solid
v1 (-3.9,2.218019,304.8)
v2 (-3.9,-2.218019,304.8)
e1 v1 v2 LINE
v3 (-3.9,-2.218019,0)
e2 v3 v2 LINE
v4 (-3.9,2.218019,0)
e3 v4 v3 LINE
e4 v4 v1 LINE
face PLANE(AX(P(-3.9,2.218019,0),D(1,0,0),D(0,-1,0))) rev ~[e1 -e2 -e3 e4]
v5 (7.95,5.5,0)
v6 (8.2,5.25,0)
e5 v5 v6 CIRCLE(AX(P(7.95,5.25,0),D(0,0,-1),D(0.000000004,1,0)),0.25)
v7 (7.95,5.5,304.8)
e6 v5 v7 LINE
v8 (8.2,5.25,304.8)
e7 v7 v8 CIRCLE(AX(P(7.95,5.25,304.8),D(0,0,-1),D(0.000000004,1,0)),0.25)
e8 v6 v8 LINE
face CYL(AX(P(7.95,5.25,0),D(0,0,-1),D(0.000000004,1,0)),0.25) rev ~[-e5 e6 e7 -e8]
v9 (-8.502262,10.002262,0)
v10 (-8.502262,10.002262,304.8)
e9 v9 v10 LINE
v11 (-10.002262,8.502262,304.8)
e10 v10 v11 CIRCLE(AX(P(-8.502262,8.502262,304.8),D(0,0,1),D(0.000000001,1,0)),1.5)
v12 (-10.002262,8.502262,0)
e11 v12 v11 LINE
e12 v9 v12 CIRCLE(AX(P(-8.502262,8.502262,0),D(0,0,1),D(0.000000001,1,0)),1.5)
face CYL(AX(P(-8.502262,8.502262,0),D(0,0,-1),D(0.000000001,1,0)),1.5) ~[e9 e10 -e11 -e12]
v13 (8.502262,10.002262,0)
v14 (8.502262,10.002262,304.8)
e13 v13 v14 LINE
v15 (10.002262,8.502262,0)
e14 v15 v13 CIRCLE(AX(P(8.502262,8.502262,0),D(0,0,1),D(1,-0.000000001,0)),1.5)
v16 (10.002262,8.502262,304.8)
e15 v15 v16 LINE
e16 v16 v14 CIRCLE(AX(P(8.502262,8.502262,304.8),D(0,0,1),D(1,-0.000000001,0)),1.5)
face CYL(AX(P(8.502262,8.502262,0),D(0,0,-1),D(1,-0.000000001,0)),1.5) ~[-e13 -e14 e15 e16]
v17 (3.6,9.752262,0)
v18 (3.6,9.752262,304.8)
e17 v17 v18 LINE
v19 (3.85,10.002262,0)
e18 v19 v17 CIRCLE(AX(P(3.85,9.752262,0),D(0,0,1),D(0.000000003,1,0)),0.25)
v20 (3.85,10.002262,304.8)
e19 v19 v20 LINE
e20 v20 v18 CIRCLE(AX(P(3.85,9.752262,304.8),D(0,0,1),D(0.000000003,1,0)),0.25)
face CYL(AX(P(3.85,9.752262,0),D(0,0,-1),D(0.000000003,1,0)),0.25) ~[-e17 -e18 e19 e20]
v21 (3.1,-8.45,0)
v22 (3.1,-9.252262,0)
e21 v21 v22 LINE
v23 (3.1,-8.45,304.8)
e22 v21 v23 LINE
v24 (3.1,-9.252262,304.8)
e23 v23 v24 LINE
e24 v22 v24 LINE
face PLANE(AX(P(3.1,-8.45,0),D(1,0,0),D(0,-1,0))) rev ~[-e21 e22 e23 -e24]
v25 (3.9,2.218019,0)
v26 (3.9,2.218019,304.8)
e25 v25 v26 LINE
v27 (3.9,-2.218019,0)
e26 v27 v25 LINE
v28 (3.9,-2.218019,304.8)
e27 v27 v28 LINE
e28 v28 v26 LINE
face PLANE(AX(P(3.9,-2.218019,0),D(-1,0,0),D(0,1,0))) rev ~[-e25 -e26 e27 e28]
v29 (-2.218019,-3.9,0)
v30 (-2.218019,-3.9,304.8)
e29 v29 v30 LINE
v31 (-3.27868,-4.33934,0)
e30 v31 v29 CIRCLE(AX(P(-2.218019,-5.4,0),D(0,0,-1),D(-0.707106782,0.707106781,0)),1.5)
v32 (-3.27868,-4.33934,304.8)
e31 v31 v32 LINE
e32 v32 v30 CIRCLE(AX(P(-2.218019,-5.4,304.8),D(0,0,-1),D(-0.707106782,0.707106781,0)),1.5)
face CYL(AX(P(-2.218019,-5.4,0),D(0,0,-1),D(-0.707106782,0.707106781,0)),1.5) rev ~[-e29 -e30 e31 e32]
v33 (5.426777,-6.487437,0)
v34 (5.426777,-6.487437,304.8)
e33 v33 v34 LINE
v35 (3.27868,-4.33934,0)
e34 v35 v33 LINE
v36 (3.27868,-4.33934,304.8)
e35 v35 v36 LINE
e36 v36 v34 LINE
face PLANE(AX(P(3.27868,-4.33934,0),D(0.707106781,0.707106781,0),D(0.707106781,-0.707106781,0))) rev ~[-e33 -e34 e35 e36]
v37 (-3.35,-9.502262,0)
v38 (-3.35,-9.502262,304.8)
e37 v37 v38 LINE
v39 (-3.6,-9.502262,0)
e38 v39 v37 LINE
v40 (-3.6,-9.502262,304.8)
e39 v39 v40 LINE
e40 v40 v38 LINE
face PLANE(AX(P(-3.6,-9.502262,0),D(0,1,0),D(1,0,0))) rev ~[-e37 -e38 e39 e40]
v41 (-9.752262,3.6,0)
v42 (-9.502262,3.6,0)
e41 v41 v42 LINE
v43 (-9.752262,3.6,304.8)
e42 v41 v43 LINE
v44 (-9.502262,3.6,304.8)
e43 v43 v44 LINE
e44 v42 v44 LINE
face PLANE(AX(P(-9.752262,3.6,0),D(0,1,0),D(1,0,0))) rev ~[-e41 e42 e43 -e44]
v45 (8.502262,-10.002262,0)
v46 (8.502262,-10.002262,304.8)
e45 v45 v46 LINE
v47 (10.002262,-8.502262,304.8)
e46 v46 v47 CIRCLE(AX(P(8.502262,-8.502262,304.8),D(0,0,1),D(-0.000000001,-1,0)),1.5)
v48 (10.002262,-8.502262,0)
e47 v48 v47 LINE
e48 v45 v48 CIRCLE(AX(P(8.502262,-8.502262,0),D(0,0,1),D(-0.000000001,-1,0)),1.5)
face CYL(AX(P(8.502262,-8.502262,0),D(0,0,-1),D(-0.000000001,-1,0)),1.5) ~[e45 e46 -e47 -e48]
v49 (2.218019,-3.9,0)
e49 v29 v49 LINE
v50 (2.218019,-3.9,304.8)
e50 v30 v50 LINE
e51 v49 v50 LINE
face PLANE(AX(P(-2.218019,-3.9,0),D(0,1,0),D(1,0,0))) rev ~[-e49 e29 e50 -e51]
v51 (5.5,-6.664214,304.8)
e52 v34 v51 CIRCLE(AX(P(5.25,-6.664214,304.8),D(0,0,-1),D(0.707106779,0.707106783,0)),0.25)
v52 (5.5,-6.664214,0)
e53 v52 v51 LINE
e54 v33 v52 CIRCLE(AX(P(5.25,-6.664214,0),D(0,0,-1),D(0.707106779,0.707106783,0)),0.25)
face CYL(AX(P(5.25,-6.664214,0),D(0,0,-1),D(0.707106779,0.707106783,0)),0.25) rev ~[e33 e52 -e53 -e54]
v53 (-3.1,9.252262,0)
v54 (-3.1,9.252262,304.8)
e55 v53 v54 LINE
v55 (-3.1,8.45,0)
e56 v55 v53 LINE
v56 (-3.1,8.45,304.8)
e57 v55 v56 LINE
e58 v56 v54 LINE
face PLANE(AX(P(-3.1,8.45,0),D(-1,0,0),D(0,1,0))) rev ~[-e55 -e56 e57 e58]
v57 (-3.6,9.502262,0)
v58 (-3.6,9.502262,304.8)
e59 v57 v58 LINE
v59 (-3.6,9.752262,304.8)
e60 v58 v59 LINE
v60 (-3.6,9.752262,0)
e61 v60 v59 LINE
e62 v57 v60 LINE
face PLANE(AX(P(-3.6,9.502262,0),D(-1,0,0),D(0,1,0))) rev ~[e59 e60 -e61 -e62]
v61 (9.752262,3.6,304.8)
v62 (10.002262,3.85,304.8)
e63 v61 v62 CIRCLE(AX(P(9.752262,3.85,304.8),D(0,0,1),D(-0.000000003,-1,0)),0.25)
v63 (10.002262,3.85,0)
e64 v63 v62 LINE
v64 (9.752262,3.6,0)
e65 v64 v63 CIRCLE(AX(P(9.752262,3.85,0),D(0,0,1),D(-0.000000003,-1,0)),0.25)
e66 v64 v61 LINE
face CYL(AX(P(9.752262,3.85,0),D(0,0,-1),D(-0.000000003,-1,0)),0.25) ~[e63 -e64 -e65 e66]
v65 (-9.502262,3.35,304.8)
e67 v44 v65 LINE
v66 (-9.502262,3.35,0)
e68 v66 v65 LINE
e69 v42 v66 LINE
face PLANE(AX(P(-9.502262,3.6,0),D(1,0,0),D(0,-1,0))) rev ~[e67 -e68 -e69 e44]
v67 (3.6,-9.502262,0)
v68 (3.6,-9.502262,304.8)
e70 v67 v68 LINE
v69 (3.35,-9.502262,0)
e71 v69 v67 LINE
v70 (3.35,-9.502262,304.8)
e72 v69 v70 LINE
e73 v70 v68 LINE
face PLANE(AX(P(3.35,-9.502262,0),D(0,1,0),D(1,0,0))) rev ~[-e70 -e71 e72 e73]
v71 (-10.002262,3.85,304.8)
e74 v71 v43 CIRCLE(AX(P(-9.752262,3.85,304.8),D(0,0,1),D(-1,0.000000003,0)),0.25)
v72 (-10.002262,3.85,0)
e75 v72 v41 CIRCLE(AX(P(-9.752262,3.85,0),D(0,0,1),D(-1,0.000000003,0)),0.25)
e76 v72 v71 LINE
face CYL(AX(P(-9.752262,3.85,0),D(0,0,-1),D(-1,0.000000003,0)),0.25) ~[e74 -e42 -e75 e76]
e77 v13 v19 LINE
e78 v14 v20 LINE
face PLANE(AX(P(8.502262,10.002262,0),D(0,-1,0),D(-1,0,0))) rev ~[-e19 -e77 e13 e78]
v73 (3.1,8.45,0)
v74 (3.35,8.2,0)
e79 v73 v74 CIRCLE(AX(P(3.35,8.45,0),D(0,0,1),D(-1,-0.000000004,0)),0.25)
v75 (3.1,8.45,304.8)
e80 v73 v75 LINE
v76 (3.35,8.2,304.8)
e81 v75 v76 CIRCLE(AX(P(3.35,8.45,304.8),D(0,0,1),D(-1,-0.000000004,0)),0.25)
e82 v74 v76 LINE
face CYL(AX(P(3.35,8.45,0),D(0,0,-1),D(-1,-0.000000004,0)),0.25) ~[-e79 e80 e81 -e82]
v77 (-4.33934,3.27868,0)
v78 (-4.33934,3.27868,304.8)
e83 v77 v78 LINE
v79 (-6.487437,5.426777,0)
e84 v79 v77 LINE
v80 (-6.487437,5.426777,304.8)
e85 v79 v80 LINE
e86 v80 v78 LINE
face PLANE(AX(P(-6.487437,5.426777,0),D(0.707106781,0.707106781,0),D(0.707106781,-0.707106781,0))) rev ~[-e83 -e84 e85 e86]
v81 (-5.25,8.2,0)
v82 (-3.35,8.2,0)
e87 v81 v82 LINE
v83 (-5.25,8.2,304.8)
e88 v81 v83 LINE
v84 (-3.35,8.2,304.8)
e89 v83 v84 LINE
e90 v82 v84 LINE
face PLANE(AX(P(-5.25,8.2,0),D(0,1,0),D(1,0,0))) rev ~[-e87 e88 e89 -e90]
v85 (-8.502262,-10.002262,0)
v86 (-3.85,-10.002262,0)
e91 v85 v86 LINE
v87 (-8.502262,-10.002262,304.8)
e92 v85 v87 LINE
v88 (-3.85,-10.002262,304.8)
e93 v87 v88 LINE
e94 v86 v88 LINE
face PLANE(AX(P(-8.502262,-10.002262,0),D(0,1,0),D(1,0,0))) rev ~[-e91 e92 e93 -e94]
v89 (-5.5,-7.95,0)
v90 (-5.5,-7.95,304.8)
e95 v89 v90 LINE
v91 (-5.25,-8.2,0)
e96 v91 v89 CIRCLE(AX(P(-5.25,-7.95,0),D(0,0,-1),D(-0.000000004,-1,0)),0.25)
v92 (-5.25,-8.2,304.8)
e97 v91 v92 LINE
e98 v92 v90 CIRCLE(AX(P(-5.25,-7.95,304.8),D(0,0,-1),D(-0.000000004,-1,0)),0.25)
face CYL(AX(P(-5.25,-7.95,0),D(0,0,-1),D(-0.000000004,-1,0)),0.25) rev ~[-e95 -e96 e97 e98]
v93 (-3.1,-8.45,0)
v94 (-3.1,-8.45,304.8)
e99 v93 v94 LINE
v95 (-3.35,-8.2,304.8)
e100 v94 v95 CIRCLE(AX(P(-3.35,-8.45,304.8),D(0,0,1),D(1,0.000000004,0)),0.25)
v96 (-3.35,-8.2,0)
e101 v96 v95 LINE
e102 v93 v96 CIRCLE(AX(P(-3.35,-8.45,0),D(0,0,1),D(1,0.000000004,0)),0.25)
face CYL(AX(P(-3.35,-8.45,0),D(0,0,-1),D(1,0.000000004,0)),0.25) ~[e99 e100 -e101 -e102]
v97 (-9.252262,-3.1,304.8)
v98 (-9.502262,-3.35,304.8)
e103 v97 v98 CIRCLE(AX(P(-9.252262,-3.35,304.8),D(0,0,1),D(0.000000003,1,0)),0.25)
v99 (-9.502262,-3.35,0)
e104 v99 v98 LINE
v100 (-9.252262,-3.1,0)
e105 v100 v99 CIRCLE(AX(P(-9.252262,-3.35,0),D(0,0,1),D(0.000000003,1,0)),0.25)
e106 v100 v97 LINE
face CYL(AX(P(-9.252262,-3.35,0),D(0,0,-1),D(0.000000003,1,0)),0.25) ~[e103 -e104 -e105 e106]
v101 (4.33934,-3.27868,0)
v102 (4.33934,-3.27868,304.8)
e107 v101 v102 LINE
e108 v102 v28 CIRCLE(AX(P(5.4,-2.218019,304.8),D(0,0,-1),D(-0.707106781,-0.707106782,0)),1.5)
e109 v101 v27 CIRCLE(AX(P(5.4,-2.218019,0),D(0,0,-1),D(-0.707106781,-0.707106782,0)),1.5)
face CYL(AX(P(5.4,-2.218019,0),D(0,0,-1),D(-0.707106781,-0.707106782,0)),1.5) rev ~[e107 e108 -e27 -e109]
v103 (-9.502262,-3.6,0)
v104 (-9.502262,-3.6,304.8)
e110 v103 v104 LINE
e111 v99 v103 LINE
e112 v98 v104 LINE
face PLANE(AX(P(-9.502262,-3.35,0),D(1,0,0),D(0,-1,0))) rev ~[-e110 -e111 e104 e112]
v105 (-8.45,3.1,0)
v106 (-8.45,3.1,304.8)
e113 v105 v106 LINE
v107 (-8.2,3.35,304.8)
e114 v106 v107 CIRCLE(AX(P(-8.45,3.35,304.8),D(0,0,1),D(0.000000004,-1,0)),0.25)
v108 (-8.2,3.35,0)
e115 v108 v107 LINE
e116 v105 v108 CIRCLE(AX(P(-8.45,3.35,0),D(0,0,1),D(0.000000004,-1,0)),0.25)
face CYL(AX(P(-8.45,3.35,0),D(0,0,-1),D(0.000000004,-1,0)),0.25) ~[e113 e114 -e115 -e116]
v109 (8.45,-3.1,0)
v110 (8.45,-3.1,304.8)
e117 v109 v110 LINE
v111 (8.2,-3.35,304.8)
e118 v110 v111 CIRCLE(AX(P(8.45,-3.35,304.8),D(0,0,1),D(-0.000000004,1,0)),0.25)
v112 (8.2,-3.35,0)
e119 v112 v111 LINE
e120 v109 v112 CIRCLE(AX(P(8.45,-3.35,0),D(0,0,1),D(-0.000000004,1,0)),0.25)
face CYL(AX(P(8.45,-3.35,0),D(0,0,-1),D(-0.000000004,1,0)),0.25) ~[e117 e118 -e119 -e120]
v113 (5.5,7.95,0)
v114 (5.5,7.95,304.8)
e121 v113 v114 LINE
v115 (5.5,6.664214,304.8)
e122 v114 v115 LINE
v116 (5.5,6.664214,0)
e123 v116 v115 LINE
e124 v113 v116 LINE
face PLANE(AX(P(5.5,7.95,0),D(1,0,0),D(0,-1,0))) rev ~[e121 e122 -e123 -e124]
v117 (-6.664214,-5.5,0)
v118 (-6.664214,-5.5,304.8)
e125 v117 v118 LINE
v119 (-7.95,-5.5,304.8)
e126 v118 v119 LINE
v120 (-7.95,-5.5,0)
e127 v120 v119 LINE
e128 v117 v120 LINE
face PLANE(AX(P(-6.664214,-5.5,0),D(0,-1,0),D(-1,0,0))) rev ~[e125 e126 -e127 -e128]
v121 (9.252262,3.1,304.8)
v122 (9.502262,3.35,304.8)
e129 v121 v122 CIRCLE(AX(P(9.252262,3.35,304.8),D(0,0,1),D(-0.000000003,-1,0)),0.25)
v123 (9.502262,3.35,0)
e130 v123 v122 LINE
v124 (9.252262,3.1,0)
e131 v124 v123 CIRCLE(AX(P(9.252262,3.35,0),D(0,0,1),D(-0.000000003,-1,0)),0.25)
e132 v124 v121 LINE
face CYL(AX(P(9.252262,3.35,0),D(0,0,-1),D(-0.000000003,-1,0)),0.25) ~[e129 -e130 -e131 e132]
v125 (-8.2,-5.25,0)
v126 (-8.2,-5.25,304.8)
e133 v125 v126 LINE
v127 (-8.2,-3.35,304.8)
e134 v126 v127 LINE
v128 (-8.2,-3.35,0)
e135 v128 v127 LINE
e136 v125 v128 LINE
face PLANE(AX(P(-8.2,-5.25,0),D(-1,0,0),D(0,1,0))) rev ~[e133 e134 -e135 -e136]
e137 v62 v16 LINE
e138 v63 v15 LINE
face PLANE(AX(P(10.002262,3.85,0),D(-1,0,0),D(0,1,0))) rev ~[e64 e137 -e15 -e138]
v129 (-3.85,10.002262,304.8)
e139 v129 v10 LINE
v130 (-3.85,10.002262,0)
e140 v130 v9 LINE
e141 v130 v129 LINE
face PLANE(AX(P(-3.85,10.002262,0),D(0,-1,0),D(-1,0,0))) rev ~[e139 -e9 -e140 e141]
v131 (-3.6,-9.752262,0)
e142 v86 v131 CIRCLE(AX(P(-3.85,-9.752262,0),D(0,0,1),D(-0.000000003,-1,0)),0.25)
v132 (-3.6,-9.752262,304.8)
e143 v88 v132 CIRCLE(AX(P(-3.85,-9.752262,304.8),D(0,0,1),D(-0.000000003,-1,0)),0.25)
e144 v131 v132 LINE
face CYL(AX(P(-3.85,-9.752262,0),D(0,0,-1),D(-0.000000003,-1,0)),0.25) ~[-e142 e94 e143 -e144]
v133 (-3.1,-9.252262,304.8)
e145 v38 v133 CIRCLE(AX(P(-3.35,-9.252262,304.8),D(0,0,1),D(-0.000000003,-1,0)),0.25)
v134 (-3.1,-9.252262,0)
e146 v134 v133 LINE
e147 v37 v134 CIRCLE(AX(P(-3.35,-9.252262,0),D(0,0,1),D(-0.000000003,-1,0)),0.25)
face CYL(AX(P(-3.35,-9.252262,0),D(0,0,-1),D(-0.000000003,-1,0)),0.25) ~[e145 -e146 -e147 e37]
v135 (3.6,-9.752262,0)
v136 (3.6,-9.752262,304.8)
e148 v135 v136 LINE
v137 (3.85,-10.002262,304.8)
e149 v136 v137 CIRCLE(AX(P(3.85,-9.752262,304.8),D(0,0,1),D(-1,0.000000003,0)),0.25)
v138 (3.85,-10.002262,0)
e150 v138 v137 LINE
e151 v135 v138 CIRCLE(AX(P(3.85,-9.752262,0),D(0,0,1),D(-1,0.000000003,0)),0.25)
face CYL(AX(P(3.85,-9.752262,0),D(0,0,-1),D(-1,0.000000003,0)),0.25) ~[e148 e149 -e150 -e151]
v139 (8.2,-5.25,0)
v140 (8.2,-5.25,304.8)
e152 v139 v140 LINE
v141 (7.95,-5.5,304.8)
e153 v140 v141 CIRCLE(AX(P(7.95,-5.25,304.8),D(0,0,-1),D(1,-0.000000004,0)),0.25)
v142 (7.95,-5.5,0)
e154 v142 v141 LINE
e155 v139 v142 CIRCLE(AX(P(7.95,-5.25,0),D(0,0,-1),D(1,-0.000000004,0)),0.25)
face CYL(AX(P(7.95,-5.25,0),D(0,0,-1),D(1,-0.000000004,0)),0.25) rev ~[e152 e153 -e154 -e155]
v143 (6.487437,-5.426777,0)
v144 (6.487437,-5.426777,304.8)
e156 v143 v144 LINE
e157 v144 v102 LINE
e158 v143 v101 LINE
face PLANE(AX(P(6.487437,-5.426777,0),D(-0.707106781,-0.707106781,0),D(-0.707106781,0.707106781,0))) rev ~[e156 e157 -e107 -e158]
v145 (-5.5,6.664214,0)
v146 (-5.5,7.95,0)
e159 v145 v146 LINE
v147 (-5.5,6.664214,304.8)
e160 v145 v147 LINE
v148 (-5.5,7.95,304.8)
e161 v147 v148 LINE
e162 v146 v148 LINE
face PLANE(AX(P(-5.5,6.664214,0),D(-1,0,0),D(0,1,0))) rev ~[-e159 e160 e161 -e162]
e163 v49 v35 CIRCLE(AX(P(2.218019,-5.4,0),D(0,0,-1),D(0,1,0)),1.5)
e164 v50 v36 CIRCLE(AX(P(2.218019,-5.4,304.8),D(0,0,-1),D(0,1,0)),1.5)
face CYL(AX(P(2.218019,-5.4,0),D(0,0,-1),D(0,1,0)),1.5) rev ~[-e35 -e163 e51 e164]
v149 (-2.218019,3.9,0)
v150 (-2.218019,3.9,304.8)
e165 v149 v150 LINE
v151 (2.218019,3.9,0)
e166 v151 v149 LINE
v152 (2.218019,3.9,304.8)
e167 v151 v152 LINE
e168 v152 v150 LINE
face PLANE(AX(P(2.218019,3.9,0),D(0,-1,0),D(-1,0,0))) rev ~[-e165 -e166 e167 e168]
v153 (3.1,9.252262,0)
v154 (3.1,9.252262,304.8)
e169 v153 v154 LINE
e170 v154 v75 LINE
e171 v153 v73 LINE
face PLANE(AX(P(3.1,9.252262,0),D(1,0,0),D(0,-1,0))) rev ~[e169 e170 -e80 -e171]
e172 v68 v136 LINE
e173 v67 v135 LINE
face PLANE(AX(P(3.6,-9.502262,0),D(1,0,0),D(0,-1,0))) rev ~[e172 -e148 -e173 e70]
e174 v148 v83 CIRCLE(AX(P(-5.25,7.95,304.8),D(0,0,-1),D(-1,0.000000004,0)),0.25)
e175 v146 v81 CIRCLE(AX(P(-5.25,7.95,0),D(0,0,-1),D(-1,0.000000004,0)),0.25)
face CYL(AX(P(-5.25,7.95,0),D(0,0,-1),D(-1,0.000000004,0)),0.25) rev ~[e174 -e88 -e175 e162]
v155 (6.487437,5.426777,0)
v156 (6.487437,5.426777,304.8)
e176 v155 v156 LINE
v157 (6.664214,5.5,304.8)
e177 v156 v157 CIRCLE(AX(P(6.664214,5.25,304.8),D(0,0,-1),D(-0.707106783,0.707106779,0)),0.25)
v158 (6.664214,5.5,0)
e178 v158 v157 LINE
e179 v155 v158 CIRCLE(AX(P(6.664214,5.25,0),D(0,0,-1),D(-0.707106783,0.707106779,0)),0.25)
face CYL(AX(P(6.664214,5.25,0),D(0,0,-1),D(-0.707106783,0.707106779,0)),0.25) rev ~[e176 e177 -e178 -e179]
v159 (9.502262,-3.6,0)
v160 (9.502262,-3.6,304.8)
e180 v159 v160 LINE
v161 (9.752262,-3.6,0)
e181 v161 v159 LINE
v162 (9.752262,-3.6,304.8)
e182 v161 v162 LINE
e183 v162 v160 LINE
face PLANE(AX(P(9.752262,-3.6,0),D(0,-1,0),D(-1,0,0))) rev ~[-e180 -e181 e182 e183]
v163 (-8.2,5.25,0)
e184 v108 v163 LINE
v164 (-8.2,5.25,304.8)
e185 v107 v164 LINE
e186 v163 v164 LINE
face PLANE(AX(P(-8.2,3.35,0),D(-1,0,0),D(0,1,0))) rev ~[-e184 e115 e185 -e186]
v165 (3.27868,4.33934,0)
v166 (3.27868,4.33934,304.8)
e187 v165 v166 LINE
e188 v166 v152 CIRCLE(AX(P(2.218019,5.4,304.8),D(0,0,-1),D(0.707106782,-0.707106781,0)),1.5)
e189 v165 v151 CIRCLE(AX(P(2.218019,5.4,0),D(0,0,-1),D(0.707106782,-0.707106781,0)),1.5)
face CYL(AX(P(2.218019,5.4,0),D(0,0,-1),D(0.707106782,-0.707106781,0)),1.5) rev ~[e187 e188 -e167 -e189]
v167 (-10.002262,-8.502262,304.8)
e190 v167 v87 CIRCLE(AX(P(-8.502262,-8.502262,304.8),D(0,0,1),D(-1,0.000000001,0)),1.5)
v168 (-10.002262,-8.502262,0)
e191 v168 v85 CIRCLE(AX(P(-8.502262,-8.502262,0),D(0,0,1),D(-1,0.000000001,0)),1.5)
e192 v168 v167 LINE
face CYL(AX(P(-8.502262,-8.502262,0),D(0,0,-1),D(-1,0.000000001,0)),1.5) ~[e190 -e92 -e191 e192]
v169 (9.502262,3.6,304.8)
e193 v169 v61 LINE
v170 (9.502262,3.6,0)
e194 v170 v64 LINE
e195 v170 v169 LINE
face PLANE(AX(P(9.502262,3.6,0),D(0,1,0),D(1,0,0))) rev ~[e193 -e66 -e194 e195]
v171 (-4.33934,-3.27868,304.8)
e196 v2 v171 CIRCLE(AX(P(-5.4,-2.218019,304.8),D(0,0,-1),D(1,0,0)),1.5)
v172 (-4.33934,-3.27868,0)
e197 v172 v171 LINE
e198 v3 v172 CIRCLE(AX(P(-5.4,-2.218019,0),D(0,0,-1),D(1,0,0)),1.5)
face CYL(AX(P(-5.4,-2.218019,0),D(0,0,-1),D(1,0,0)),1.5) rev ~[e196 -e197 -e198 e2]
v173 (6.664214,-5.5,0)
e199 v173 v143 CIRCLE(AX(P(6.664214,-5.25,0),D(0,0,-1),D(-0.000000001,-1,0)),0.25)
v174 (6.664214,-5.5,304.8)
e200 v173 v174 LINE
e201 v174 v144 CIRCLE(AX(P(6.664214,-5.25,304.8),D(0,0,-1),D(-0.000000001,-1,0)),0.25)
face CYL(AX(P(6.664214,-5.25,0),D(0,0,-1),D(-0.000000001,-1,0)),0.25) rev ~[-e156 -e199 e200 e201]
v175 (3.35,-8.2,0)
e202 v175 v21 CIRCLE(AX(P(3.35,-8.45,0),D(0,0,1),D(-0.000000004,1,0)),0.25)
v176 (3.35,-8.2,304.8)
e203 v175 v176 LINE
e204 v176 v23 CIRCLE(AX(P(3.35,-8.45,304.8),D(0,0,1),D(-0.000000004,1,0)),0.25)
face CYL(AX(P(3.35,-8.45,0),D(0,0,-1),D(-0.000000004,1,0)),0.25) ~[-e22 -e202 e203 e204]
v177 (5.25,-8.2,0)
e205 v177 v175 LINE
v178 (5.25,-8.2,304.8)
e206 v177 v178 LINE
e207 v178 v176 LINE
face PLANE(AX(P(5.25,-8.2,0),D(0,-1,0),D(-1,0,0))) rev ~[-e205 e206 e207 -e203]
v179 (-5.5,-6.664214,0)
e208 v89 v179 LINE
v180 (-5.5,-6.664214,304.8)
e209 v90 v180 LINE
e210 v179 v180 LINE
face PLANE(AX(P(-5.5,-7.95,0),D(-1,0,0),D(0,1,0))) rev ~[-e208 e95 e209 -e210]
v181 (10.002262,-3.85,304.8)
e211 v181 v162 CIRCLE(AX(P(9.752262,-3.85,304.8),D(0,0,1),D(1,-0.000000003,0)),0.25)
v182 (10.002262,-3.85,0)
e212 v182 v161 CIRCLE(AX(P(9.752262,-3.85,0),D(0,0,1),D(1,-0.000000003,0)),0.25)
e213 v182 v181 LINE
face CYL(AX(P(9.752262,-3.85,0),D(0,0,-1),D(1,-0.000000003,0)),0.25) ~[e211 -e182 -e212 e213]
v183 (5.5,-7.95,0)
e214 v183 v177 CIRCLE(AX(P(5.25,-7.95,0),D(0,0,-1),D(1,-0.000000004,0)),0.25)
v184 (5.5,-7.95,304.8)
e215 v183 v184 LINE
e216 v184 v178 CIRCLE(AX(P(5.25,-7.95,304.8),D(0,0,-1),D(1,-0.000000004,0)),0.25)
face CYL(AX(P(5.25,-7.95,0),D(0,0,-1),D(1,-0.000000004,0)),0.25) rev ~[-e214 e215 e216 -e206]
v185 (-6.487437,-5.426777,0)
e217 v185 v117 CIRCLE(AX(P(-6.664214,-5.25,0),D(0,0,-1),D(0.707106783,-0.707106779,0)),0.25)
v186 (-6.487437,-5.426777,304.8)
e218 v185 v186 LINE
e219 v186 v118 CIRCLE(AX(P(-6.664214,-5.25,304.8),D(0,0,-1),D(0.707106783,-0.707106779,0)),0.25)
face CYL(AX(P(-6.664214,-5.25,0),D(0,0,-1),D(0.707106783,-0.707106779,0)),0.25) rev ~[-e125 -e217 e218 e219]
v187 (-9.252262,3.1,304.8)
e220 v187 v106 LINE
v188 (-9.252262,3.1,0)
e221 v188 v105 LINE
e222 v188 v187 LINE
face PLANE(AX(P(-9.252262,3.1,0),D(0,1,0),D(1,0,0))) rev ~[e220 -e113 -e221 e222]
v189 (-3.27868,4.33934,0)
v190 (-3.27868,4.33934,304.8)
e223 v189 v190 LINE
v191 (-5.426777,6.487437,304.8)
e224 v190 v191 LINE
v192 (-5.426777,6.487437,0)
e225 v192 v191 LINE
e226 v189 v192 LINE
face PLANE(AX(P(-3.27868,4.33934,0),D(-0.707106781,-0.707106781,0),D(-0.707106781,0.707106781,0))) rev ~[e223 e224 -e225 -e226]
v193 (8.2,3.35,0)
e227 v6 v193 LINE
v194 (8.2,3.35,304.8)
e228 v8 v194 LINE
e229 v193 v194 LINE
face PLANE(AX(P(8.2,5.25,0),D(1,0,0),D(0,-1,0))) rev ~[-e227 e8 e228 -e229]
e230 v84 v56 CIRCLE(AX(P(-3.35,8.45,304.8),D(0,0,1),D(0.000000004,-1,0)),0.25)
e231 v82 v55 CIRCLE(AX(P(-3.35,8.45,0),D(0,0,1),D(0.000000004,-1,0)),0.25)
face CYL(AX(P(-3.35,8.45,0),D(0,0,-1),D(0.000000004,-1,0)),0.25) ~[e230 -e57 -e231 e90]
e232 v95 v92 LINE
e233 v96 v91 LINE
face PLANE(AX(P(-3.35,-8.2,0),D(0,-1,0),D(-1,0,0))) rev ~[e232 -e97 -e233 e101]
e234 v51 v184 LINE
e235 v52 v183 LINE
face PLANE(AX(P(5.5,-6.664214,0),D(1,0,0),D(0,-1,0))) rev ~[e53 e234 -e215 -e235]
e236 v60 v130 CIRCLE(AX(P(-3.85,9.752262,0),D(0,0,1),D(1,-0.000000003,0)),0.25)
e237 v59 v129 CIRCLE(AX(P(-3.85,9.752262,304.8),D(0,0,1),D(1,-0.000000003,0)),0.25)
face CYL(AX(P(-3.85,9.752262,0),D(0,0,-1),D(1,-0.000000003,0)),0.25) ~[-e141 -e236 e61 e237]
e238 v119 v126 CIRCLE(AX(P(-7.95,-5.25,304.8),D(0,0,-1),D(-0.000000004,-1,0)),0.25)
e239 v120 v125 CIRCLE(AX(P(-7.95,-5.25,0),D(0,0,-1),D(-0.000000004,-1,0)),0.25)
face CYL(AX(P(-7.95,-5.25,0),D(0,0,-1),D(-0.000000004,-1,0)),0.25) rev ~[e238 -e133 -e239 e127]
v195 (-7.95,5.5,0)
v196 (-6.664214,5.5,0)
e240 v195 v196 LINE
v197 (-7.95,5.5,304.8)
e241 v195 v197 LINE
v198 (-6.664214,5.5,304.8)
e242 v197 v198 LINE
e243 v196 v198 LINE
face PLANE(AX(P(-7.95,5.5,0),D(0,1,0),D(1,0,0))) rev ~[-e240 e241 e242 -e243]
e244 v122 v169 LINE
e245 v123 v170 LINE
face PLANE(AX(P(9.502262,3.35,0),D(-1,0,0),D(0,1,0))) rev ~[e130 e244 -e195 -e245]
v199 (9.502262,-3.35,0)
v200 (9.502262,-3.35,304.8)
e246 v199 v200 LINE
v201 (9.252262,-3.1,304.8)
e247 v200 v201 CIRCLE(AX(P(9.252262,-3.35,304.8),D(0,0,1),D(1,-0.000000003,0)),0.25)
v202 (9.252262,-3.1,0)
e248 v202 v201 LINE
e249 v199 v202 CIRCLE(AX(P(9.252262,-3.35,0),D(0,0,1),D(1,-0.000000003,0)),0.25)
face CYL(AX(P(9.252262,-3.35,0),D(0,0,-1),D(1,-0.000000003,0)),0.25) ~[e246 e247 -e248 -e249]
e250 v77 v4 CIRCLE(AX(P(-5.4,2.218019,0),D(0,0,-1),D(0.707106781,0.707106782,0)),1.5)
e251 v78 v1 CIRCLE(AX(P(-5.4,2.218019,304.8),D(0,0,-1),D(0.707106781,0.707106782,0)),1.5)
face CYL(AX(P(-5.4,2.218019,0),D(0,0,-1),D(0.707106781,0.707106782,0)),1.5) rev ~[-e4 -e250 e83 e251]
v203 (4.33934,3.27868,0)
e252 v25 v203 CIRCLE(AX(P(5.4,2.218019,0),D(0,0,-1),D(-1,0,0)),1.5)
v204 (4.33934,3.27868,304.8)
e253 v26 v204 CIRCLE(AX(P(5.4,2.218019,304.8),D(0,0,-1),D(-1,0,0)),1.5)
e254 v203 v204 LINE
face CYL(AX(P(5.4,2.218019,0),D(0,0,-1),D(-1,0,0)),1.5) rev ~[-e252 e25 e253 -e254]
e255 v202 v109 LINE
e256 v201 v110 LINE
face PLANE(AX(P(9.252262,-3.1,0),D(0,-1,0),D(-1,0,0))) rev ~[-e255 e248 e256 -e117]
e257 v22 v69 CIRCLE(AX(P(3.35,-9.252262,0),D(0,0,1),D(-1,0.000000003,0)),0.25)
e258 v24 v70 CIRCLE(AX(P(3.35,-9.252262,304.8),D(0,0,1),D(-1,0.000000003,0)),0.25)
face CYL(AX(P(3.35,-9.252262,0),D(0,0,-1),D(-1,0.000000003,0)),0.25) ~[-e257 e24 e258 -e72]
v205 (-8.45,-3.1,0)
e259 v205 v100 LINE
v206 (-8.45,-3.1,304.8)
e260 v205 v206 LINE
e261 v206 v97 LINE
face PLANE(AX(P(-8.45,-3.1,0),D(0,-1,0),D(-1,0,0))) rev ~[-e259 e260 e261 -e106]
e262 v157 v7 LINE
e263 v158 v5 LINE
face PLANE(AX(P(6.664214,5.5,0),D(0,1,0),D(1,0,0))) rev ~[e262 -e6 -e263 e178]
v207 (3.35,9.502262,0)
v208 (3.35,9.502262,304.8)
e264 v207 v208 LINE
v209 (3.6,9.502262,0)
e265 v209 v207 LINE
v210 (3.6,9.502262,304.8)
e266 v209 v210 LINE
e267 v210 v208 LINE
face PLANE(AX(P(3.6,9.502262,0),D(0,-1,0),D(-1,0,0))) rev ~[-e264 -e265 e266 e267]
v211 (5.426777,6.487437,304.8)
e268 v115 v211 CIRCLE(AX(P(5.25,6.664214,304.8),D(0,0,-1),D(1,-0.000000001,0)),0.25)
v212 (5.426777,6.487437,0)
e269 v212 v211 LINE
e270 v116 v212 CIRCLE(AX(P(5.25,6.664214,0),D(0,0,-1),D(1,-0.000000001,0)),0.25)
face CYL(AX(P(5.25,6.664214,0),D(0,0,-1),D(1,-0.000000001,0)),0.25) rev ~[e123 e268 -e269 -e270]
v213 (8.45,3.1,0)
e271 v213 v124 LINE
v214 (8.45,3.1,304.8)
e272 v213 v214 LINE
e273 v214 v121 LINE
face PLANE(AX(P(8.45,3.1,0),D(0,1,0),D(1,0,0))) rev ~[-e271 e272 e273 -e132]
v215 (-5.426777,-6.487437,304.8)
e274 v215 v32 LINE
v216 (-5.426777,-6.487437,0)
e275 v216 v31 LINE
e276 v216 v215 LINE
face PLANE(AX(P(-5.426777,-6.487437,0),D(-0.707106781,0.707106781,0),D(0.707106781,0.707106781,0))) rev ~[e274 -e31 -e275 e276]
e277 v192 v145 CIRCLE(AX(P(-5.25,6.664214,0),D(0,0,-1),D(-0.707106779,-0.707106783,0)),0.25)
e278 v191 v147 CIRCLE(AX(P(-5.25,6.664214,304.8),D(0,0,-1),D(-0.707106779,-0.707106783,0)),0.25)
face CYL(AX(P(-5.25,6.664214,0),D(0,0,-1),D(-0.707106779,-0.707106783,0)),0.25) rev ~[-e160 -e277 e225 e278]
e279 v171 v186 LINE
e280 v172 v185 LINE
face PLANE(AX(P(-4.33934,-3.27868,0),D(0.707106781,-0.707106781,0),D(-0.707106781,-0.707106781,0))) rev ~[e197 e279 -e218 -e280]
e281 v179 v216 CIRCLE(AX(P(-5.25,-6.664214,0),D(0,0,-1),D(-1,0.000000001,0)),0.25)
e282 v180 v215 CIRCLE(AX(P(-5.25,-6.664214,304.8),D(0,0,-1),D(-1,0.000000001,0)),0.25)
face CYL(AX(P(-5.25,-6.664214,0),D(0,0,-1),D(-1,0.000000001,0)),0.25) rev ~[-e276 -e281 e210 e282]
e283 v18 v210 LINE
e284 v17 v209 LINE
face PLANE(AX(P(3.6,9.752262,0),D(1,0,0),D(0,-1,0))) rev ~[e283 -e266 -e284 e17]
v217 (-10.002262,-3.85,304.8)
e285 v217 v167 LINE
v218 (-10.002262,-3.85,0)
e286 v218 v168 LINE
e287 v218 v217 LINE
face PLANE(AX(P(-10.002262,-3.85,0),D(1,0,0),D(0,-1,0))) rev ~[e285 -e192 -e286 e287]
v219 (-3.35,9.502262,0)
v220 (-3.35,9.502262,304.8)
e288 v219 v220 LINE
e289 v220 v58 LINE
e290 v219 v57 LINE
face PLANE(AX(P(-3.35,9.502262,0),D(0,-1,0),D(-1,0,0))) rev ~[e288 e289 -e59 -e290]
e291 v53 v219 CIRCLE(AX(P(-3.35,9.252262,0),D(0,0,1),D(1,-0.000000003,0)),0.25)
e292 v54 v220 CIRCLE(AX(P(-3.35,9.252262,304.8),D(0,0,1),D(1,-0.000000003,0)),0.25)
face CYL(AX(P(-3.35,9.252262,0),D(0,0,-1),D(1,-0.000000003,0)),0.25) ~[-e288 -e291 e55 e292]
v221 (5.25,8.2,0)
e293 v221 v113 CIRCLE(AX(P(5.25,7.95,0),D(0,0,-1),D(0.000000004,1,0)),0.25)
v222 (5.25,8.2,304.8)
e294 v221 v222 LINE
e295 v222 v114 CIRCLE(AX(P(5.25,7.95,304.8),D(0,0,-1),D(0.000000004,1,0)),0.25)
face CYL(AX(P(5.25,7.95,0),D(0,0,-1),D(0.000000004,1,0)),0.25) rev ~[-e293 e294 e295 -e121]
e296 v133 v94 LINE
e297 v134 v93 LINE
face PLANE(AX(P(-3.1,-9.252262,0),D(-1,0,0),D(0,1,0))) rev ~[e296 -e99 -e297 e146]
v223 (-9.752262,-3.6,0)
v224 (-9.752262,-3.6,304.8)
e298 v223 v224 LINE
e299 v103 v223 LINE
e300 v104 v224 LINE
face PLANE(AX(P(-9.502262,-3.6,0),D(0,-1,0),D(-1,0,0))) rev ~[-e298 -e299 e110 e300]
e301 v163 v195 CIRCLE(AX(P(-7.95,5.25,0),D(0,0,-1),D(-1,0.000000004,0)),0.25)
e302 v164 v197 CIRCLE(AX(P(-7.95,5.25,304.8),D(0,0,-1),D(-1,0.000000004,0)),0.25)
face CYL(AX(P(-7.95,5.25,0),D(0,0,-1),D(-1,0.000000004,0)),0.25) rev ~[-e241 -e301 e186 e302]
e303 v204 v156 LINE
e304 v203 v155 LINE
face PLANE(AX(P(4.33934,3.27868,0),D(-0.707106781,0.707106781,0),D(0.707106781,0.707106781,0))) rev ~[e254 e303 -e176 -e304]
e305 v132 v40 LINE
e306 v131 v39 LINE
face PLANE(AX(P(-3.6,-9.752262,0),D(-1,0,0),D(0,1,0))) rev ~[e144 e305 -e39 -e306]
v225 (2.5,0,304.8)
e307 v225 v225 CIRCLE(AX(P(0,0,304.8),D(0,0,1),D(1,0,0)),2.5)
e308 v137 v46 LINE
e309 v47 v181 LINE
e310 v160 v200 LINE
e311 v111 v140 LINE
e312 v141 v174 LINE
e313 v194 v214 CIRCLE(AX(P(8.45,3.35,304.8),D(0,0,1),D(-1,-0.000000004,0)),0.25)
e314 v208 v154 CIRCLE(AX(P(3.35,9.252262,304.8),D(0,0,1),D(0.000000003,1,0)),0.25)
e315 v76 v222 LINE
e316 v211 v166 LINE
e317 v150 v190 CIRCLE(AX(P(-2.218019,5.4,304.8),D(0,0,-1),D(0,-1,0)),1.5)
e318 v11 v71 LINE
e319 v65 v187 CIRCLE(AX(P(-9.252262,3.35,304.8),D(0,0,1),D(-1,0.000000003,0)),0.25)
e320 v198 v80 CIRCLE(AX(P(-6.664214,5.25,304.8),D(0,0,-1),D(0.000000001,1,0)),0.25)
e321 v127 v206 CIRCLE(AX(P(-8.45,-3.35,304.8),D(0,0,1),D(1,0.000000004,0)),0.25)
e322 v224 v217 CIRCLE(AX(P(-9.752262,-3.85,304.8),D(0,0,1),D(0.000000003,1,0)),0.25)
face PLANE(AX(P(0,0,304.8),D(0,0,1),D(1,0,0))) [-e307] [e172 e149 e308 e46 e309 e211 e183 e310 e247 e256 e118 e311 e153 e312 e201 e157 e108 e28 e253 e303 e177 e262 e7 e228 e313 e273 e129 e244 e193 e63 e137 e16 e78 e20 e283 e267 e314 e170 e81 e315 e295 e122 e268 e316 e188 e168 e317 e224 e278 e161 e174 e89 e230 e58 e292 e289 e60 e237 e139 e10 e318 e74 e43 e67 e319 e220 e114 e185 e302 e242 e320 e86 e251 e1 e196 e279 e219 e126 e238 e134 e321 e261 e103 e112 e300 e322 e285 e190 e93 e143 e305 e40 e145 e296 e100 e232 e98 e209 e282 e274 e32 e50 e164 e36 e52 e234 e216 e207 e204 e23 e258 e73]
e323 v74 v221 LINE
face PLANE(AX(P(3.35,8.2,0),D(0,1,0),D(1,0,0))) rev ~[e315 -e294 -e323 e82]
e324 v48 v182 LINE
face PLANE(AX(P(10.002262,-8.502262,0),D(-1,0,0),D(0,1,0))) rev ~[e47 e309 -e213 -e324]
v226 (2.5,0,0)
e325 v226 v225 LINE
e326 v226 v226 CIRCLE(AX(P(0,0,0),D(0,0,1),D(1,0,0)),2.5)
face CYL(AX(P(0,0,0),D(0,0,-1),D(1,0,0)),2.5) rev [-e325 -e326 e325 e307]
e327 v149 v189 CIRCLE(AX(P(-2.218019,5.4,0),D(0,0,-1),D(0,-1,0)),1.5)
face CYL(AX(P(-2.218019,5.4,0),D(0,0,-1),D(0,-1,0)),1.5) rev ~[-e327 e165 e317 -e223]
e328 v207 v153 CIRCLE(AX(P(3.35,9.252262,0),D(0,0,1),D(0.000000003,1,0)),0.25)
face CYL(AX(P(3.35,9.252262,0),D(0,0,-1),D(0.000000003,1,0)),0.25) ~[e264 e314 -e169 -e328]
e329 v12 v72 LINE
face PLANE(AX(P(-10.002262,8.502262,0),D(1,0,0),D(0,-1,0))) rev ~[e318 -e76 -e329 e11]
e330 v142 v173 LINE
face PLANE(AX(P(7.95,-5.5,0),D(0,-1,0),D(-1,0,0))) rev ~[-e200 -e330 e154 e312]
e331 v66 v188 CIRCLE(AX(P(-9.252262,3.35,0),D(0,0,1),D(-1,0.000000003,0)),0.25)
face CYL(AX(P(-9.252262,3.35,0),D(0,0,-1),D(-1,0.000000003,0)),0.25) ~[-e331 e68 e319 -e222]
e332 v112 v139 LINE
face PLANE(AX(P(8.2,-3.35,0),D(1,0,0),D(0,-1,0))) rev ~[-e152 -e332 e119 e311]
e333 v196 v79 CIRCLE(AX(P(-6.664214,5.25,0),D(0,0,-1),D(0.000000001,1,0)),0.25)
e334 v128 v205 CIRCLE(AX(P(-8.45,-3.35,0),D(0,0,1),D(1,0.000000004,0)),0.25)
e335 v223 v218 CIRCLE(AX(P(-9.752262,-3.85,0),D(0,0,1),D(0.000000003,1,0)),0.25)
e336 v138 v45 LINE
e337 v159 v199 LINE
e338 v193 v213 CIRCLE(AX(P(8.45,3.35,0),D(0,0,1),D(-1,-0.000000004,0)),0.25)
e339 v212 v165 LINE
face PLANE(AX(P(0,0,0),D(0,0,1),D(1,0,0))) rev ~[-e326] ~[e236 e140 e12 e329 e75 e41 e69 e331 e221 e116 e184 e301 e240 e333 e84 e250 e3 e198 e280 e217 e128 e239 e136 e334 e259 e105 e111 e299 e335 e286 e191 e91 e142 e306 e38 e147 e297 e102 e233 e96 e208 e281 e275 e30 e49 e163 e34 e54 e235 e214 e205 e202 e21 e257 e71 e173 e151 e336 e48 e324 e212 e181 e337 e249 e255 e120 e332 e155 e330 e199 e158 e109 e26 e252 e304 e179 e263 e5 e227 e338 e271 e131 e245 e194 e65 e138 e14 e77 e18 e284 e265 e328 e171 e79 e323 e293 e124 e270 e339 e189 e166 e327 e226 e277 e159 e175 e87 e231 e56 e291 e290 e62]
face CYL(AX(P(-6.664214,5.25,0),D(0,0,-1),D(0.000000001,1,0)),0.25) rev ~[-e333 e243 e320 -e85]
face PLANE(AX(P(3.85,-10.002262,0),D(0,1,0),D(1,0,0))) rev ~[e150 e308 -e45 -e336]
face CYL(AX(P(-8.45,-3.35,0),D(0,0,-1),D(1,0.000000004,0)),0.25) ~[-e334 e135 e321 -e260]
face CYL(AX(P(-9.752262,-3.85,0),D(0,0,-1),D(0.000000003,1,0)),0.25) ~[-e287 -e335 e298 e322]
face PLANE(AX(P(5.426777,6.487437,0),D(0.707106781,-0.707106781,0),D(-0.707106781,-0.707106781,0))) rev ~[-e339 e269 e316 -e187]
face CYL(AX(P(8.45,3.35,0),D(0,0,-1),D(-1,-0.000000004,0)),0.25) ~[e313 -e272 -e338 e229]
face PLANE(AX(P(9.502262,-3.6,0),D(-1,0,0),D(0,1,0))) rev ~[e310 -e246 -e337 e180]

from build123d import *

# Parameters (mm, degrees)
SKETCH_1_R      = 2.5
EXTRUDE_1_DEPTH = 304.8


with BuildPart() as part:
    # 草图1 → 凸台-拉伸1 (new body)
    with BuildSketch(Plane.XY):
        with BuildLine():
            Line((-8.502261885, -10.002261885), (-3.85, -10.002261885))
            ThreePointArc((-3.85, -10.002261885), (-3.673223305, -9.929038581), (-3.6, -9.752261885))
            Line((-3.6, -9.752261885), (-3.6, -9.502261885))
            Line((-3.6, -9.502261885), (-3.35, -9.502261885))
            ThreePointArc((-3.35, -9.502261885), (-3.173223305, -9.429038581), (-3.1, -9.252261885))
            Line((-3.1, -9.252261885), (-3.1, -8.45))
            ThreePointArc((-3.1, -8.45), (-3.173223305, -8.273223305), (-3.35, -8.2))
            Line((-3.35, -8.2), (-5.25, -8.2))
            ThreePointArc((-5.25, -8.2), (-5.426776695, -8.126776695), (-5.5, -7.95))
            Line((-5.5, -7.95), (-5.5, -6.664213562))
            ThreePointArc((-5.5, -6.664213562), (-5.480969883, -6.568542704), (-5.426776695, -6.487436867))
            Line((-5.426776695, -6.487436867), (-3.278679656, -4.339339828))
            ThreePointArc((-3.278679656, -4.339339828), (-2.792044633, -4.014180701), (-2.218019485, -3.9))
            Line((-2.218019485, -3.9), (2.218019485, -3.9))
            ThreePointArc((2.218019485, -3.9), (2.792044633, -4.014180701), (3.278679656, -4.339339828))
            Line((3.278679656, -4.339339828), (5.426776695, -6.487436867))
            ThreePointArc((5.426776695, -6.487436867), (5.480969883, -6.568542704), (5.5, -6.664213562))
            Line((5.5, -6.664213562), (5.5, -7.95))
            ThreePointArc((5.5, -7.95), (5.426776695, -8.126776695), (5.25, -8.2))
            Line((5.25, -8.2), (3.35, -8.2))
            ThreePointArc((3.35, -8.2), (3.173223305, -8.273223305), (3.1, -8.45))
            Line((3.1, -8.45), (3.1, -9.252261885))
            ThreePointArc((3.1, -9.252261885), (3.173223305, -9.429038581), (3.35, -9.502261885))
            Line((3.35, -9.502261885), (3.6, -9.502261885))
            Line((3.6, -9.502261885), (3.6, -9.752261885))
            ThreePointArc((3.6, -9.752261885), (3.673223305, -9.929038581), (3.85, -10.002261885))
            Line((3.85, -10.002261885), (8.502261885, -10.002261885))
            ThreePointArc((8.502261885, -10.002261885), (9.562922057, -9.562922057), (10.002261885, -8.502261885))
            Line((10.002261885, -8.502261885), (10.002261885, -3.85))
            ThreePointArc((10.002261885, -3.85), (9.929038581, -3.673223305), (9.752261885, -3.6))
            Line((9.752261885, -3.6), (9.502261885, -3.6))
            Line((9.502261885, -3.6), (9.502261885, -3.35))
            ThreePointArc((9.502261885, -3.35), (9.429038581, -3.173223305), (9.252261885, -3.1))
            Line((9.252261885, -3.1), (8.45, -3.1))
            ThreePointArc((8.45, -3.1), (8.273223305, -3.173223305), (8.2, -3.35))
            Line((8.2, -3.35), (8.2, -5.25))
            ThreePointArc((8.2, -5.25), (8.126776695, -5.426776695), (7.95, -5.5))
            Line((7.95, -5.5), (6.664213562, -5.5))
            ThreePointArc((6.664213562, -5.5), (6.568542704, -5.480969883), (6.487436867, -5.426776695))
            Line((6.487436867, -5.426776695), (4.339339828, -3.278679656))
            ThreePointArc((4.339339828, -3.278679656), (4.014180701, -2.792044633), (3.9, -2.218019485))
            Line((3.9, -2.218019485), (3.9, 2.218019485))
            ThreePointArc((3.9, 2.218019485), (4.014180701, 2.792044633), (4.339339828, 3.278679656))
            Line((4.339339828, 3.278679656), (6.487436867, 5.426776695))
            ThreePointArc((6.487436867, 5.426776695), (6.568542704, 5.480969883), (6.664213562, 5.5))
            Line((6.664213562, 5.5), (7.95, 5.5))
            ThreePointArc((7.95, 5.5), (8.126776695, 5.426776695), (8.2, 5.25))
            Line((8.2, 5.25), (8.2, 3.35))
            ThreePointArc((8.2, 3.35), (8.273223305, 3.173223305), (8.45, 3.1))
            Line((8.45, 3.1), (9.252261885, 3.1))
            ThreePointArc((9.252261885, 3.1), (9.429038581, 3.173223305), (9.502261885, 3.35))
            Line((9.502261885, 3.35), (9.502261885, 3.6))
            Line((9.502261885, 3.6), (9.752261885, 3.6))
            ThreePointArc((9.752261885, 3.6), (9.929038581, 3.673223305), (10.002261885, 3.85))
            Line((10.002261885, 3.85), (10.002261885, 8.502261885))
            ThreePointArc((10.002261885, 8.502261885), (9.562922057, 9.562922057), (8.502261885, 10.002261885))
            Line((8.502261885, 10.002261885), (3.85, 10.002261885))
            ThreePointArc((3.85, 10.002261885), (3.673223305, 9.929038581), (3.6, 9.752261885))
            Line((3.6, 9.752261885), (3.6, 9.502261885))
            Line((3.6, 9.502261885), (3.35, 9.502261885))
            ThreePointArc((3.35, 9.502261885), (3.173223305, 9.429038581), (3.1, 9.252261885))
            Line((3.1, 9.252261885), (3.1, 8.45))
            ThreePointArc((3.1, 8.45), (3.173223305, 8.273223305), (3.35, 8.2))
            Line((3.35, 8.2), (5.25, 8.2))
            ThreePointArc((5.25, 8.2), (5.426776695, 8.126776695), (5.5, 7.95))
            Line((5.5, 7.95), (5.5, 6.664213562))
            ThreePointArc((5.5, 6.664213562), (5.480969883, 6.568542704), (5.426776695, 6.487436867))
            Line((5.426776695, 6.487436867), (3.278679656, 4.339339828))
            ThreePointArc((3.278679656, 4.339339828), (2.792044633, 4.014180701), (2.218019485, 3.9))
            Line((2.218019485, 3.9), (-2.218019485, 3.9))
            ThreePointArc((-2.218019485, 3.9), (-2.792044633, 4.014180701), (-3.278679656, 4.339339828))
            Line((-3.278679656, 4.339339828), (-5.426776695, 6.487436867))
            ThreePointArc((-5.426776695, 6.487436867), (-5.480969883, 6.568542704), (-5.5, 6.664213562))
            Line((-5.5, 6.664213562), (-5.5, 7.95))
            ThreePointArc((-5.5, 7.95), (-5.426776695, 8.126776695), (-5.25, 8.2))
            Line((-5.25, 8.2), (-3.35, 8.2))
            ThreePointArc((-3.35, 8.2), (-3.173223305, 8.273223305), (-3.1, 8.45))
            Line((-3.1, 8.45), (-3.1, 9.252261885))
            ThreePointArc((-3.1, 9.252261885), (-3.173223305, 9.429038581), (-3.35, 9.502261885))
            Line((-3.35, 9.502261885), (-3.6, 9.502261885))
            Line((-3.6, 9.502261885), (-3.6, 9.752261885))
            ThreePointArc((-3.6, 9.752261885), (-3.673223305, 9.929038581), (-3.85, 10.002261885))
            Line((-3.85, 10.002261885), (-8.502261885, 10.002261885))
            ThreePointArc((-8.502261885, 10.002261885), (-9.562922057, 9.562922057), (-10.002261885, 8.502261885))
            Line((-10.002261885, 8.502261885), (-10.002261885, 3.85))
            ThreePointArc((-10.002261885, 3.85), (-9.929038581, 3.673223305), (-9.752261885, 3.6))
            Line((-9.752261885, 3.6), (-9.502261885, 3.6))
            Line((-9.502261885, 3.6), (-9.502261885, 3.35))
            ThreePointArc((-9.502261885, 3.35), (-9.429038581, 3.173223305), (-9.252261885, 3.1))
            Line((-9.252261885, 3.1), (-8.45, 3.1))
            ThreePointArc((-8.45, 3.1), (-8.273223305, 3.173223305), (-8.2, 3.35))
            Line((-8.2, 3.35), (-8.2, 5.25))
            ThreePointArc((-8.2, 5.25), (-8.126776695, 5.426776695), (-7.95, 5.5))
            Line((-7.95, 5.5), (-6.664213562, 5.5))
            ThreePointArc((-6.664213562, 5.5), (-6.568542704, 5.480969883), (-6.487436867, 5.426776695))
            Line((-6.487436867, 5.426776695), (-4.339339828, 3.278679656))
            ThreePointArc((-4.339339828, 3.278679656), (-4.014180701, 2.792044633), (-3.9, 2.218019485))
            Line((-3.9, 2.218019485), (-3.9, -2.218019485))
            ThreePointArc((-3.9, -2.218019485), (-4.014180701, -2.792044633), (-4.339339828, -3.278679656))
            Line((-4.339339828, -3.278679656), (-6.487436867, -5.426776695))
            ThreePointArc((-6.487436867, -5.426776695), (-6.568542704, -5.480969883), (-6.664213562, -5.5))
            Line((-6.664213562, -5.5), (-7.95, -5.5))
            ThreePointArc((-7.95, -5.5), (-8.126776695, -5.426776695), (-8.2, -5.25))
            Line((-8.2, -5.25), (-8.2, -3.35))
            ThreePointArc((-8.2, -3.35), (-8.273223305, -3.173223305), (-8.45, -3.1))
            Line((-8.45, -3.1), (-9.252261885, -3.1))
            ThreePointArc((-9.252261885, -3.1), (-9.429038581, -3.173223305), (-9.502261885, -3.35))
            Line((-9.502261885, -3.35), (-9.502261885, -3.6))
            Line((-9.502261885, -3.6), (-9.752261885, -3.6))
            ThreePointArc((-9.752261885, -3.6), (-9.929038581, -3.673223305), (-10.002261885, -3.85))
            Line((-10.002261885, -3.85), (-10.002261885, -8.502261885))
            ThreePointArc((-10.002261885, -8.502261885), (-9.562922057, -9.562922057), (-8.502261885, -10.002261885))
        make_face()
        Circle(SKETCH_1_R, mode=Mode.SUBTRACT)
    extrude(amount=EXTRUDE_1_DEPTH)


solid = part.part
